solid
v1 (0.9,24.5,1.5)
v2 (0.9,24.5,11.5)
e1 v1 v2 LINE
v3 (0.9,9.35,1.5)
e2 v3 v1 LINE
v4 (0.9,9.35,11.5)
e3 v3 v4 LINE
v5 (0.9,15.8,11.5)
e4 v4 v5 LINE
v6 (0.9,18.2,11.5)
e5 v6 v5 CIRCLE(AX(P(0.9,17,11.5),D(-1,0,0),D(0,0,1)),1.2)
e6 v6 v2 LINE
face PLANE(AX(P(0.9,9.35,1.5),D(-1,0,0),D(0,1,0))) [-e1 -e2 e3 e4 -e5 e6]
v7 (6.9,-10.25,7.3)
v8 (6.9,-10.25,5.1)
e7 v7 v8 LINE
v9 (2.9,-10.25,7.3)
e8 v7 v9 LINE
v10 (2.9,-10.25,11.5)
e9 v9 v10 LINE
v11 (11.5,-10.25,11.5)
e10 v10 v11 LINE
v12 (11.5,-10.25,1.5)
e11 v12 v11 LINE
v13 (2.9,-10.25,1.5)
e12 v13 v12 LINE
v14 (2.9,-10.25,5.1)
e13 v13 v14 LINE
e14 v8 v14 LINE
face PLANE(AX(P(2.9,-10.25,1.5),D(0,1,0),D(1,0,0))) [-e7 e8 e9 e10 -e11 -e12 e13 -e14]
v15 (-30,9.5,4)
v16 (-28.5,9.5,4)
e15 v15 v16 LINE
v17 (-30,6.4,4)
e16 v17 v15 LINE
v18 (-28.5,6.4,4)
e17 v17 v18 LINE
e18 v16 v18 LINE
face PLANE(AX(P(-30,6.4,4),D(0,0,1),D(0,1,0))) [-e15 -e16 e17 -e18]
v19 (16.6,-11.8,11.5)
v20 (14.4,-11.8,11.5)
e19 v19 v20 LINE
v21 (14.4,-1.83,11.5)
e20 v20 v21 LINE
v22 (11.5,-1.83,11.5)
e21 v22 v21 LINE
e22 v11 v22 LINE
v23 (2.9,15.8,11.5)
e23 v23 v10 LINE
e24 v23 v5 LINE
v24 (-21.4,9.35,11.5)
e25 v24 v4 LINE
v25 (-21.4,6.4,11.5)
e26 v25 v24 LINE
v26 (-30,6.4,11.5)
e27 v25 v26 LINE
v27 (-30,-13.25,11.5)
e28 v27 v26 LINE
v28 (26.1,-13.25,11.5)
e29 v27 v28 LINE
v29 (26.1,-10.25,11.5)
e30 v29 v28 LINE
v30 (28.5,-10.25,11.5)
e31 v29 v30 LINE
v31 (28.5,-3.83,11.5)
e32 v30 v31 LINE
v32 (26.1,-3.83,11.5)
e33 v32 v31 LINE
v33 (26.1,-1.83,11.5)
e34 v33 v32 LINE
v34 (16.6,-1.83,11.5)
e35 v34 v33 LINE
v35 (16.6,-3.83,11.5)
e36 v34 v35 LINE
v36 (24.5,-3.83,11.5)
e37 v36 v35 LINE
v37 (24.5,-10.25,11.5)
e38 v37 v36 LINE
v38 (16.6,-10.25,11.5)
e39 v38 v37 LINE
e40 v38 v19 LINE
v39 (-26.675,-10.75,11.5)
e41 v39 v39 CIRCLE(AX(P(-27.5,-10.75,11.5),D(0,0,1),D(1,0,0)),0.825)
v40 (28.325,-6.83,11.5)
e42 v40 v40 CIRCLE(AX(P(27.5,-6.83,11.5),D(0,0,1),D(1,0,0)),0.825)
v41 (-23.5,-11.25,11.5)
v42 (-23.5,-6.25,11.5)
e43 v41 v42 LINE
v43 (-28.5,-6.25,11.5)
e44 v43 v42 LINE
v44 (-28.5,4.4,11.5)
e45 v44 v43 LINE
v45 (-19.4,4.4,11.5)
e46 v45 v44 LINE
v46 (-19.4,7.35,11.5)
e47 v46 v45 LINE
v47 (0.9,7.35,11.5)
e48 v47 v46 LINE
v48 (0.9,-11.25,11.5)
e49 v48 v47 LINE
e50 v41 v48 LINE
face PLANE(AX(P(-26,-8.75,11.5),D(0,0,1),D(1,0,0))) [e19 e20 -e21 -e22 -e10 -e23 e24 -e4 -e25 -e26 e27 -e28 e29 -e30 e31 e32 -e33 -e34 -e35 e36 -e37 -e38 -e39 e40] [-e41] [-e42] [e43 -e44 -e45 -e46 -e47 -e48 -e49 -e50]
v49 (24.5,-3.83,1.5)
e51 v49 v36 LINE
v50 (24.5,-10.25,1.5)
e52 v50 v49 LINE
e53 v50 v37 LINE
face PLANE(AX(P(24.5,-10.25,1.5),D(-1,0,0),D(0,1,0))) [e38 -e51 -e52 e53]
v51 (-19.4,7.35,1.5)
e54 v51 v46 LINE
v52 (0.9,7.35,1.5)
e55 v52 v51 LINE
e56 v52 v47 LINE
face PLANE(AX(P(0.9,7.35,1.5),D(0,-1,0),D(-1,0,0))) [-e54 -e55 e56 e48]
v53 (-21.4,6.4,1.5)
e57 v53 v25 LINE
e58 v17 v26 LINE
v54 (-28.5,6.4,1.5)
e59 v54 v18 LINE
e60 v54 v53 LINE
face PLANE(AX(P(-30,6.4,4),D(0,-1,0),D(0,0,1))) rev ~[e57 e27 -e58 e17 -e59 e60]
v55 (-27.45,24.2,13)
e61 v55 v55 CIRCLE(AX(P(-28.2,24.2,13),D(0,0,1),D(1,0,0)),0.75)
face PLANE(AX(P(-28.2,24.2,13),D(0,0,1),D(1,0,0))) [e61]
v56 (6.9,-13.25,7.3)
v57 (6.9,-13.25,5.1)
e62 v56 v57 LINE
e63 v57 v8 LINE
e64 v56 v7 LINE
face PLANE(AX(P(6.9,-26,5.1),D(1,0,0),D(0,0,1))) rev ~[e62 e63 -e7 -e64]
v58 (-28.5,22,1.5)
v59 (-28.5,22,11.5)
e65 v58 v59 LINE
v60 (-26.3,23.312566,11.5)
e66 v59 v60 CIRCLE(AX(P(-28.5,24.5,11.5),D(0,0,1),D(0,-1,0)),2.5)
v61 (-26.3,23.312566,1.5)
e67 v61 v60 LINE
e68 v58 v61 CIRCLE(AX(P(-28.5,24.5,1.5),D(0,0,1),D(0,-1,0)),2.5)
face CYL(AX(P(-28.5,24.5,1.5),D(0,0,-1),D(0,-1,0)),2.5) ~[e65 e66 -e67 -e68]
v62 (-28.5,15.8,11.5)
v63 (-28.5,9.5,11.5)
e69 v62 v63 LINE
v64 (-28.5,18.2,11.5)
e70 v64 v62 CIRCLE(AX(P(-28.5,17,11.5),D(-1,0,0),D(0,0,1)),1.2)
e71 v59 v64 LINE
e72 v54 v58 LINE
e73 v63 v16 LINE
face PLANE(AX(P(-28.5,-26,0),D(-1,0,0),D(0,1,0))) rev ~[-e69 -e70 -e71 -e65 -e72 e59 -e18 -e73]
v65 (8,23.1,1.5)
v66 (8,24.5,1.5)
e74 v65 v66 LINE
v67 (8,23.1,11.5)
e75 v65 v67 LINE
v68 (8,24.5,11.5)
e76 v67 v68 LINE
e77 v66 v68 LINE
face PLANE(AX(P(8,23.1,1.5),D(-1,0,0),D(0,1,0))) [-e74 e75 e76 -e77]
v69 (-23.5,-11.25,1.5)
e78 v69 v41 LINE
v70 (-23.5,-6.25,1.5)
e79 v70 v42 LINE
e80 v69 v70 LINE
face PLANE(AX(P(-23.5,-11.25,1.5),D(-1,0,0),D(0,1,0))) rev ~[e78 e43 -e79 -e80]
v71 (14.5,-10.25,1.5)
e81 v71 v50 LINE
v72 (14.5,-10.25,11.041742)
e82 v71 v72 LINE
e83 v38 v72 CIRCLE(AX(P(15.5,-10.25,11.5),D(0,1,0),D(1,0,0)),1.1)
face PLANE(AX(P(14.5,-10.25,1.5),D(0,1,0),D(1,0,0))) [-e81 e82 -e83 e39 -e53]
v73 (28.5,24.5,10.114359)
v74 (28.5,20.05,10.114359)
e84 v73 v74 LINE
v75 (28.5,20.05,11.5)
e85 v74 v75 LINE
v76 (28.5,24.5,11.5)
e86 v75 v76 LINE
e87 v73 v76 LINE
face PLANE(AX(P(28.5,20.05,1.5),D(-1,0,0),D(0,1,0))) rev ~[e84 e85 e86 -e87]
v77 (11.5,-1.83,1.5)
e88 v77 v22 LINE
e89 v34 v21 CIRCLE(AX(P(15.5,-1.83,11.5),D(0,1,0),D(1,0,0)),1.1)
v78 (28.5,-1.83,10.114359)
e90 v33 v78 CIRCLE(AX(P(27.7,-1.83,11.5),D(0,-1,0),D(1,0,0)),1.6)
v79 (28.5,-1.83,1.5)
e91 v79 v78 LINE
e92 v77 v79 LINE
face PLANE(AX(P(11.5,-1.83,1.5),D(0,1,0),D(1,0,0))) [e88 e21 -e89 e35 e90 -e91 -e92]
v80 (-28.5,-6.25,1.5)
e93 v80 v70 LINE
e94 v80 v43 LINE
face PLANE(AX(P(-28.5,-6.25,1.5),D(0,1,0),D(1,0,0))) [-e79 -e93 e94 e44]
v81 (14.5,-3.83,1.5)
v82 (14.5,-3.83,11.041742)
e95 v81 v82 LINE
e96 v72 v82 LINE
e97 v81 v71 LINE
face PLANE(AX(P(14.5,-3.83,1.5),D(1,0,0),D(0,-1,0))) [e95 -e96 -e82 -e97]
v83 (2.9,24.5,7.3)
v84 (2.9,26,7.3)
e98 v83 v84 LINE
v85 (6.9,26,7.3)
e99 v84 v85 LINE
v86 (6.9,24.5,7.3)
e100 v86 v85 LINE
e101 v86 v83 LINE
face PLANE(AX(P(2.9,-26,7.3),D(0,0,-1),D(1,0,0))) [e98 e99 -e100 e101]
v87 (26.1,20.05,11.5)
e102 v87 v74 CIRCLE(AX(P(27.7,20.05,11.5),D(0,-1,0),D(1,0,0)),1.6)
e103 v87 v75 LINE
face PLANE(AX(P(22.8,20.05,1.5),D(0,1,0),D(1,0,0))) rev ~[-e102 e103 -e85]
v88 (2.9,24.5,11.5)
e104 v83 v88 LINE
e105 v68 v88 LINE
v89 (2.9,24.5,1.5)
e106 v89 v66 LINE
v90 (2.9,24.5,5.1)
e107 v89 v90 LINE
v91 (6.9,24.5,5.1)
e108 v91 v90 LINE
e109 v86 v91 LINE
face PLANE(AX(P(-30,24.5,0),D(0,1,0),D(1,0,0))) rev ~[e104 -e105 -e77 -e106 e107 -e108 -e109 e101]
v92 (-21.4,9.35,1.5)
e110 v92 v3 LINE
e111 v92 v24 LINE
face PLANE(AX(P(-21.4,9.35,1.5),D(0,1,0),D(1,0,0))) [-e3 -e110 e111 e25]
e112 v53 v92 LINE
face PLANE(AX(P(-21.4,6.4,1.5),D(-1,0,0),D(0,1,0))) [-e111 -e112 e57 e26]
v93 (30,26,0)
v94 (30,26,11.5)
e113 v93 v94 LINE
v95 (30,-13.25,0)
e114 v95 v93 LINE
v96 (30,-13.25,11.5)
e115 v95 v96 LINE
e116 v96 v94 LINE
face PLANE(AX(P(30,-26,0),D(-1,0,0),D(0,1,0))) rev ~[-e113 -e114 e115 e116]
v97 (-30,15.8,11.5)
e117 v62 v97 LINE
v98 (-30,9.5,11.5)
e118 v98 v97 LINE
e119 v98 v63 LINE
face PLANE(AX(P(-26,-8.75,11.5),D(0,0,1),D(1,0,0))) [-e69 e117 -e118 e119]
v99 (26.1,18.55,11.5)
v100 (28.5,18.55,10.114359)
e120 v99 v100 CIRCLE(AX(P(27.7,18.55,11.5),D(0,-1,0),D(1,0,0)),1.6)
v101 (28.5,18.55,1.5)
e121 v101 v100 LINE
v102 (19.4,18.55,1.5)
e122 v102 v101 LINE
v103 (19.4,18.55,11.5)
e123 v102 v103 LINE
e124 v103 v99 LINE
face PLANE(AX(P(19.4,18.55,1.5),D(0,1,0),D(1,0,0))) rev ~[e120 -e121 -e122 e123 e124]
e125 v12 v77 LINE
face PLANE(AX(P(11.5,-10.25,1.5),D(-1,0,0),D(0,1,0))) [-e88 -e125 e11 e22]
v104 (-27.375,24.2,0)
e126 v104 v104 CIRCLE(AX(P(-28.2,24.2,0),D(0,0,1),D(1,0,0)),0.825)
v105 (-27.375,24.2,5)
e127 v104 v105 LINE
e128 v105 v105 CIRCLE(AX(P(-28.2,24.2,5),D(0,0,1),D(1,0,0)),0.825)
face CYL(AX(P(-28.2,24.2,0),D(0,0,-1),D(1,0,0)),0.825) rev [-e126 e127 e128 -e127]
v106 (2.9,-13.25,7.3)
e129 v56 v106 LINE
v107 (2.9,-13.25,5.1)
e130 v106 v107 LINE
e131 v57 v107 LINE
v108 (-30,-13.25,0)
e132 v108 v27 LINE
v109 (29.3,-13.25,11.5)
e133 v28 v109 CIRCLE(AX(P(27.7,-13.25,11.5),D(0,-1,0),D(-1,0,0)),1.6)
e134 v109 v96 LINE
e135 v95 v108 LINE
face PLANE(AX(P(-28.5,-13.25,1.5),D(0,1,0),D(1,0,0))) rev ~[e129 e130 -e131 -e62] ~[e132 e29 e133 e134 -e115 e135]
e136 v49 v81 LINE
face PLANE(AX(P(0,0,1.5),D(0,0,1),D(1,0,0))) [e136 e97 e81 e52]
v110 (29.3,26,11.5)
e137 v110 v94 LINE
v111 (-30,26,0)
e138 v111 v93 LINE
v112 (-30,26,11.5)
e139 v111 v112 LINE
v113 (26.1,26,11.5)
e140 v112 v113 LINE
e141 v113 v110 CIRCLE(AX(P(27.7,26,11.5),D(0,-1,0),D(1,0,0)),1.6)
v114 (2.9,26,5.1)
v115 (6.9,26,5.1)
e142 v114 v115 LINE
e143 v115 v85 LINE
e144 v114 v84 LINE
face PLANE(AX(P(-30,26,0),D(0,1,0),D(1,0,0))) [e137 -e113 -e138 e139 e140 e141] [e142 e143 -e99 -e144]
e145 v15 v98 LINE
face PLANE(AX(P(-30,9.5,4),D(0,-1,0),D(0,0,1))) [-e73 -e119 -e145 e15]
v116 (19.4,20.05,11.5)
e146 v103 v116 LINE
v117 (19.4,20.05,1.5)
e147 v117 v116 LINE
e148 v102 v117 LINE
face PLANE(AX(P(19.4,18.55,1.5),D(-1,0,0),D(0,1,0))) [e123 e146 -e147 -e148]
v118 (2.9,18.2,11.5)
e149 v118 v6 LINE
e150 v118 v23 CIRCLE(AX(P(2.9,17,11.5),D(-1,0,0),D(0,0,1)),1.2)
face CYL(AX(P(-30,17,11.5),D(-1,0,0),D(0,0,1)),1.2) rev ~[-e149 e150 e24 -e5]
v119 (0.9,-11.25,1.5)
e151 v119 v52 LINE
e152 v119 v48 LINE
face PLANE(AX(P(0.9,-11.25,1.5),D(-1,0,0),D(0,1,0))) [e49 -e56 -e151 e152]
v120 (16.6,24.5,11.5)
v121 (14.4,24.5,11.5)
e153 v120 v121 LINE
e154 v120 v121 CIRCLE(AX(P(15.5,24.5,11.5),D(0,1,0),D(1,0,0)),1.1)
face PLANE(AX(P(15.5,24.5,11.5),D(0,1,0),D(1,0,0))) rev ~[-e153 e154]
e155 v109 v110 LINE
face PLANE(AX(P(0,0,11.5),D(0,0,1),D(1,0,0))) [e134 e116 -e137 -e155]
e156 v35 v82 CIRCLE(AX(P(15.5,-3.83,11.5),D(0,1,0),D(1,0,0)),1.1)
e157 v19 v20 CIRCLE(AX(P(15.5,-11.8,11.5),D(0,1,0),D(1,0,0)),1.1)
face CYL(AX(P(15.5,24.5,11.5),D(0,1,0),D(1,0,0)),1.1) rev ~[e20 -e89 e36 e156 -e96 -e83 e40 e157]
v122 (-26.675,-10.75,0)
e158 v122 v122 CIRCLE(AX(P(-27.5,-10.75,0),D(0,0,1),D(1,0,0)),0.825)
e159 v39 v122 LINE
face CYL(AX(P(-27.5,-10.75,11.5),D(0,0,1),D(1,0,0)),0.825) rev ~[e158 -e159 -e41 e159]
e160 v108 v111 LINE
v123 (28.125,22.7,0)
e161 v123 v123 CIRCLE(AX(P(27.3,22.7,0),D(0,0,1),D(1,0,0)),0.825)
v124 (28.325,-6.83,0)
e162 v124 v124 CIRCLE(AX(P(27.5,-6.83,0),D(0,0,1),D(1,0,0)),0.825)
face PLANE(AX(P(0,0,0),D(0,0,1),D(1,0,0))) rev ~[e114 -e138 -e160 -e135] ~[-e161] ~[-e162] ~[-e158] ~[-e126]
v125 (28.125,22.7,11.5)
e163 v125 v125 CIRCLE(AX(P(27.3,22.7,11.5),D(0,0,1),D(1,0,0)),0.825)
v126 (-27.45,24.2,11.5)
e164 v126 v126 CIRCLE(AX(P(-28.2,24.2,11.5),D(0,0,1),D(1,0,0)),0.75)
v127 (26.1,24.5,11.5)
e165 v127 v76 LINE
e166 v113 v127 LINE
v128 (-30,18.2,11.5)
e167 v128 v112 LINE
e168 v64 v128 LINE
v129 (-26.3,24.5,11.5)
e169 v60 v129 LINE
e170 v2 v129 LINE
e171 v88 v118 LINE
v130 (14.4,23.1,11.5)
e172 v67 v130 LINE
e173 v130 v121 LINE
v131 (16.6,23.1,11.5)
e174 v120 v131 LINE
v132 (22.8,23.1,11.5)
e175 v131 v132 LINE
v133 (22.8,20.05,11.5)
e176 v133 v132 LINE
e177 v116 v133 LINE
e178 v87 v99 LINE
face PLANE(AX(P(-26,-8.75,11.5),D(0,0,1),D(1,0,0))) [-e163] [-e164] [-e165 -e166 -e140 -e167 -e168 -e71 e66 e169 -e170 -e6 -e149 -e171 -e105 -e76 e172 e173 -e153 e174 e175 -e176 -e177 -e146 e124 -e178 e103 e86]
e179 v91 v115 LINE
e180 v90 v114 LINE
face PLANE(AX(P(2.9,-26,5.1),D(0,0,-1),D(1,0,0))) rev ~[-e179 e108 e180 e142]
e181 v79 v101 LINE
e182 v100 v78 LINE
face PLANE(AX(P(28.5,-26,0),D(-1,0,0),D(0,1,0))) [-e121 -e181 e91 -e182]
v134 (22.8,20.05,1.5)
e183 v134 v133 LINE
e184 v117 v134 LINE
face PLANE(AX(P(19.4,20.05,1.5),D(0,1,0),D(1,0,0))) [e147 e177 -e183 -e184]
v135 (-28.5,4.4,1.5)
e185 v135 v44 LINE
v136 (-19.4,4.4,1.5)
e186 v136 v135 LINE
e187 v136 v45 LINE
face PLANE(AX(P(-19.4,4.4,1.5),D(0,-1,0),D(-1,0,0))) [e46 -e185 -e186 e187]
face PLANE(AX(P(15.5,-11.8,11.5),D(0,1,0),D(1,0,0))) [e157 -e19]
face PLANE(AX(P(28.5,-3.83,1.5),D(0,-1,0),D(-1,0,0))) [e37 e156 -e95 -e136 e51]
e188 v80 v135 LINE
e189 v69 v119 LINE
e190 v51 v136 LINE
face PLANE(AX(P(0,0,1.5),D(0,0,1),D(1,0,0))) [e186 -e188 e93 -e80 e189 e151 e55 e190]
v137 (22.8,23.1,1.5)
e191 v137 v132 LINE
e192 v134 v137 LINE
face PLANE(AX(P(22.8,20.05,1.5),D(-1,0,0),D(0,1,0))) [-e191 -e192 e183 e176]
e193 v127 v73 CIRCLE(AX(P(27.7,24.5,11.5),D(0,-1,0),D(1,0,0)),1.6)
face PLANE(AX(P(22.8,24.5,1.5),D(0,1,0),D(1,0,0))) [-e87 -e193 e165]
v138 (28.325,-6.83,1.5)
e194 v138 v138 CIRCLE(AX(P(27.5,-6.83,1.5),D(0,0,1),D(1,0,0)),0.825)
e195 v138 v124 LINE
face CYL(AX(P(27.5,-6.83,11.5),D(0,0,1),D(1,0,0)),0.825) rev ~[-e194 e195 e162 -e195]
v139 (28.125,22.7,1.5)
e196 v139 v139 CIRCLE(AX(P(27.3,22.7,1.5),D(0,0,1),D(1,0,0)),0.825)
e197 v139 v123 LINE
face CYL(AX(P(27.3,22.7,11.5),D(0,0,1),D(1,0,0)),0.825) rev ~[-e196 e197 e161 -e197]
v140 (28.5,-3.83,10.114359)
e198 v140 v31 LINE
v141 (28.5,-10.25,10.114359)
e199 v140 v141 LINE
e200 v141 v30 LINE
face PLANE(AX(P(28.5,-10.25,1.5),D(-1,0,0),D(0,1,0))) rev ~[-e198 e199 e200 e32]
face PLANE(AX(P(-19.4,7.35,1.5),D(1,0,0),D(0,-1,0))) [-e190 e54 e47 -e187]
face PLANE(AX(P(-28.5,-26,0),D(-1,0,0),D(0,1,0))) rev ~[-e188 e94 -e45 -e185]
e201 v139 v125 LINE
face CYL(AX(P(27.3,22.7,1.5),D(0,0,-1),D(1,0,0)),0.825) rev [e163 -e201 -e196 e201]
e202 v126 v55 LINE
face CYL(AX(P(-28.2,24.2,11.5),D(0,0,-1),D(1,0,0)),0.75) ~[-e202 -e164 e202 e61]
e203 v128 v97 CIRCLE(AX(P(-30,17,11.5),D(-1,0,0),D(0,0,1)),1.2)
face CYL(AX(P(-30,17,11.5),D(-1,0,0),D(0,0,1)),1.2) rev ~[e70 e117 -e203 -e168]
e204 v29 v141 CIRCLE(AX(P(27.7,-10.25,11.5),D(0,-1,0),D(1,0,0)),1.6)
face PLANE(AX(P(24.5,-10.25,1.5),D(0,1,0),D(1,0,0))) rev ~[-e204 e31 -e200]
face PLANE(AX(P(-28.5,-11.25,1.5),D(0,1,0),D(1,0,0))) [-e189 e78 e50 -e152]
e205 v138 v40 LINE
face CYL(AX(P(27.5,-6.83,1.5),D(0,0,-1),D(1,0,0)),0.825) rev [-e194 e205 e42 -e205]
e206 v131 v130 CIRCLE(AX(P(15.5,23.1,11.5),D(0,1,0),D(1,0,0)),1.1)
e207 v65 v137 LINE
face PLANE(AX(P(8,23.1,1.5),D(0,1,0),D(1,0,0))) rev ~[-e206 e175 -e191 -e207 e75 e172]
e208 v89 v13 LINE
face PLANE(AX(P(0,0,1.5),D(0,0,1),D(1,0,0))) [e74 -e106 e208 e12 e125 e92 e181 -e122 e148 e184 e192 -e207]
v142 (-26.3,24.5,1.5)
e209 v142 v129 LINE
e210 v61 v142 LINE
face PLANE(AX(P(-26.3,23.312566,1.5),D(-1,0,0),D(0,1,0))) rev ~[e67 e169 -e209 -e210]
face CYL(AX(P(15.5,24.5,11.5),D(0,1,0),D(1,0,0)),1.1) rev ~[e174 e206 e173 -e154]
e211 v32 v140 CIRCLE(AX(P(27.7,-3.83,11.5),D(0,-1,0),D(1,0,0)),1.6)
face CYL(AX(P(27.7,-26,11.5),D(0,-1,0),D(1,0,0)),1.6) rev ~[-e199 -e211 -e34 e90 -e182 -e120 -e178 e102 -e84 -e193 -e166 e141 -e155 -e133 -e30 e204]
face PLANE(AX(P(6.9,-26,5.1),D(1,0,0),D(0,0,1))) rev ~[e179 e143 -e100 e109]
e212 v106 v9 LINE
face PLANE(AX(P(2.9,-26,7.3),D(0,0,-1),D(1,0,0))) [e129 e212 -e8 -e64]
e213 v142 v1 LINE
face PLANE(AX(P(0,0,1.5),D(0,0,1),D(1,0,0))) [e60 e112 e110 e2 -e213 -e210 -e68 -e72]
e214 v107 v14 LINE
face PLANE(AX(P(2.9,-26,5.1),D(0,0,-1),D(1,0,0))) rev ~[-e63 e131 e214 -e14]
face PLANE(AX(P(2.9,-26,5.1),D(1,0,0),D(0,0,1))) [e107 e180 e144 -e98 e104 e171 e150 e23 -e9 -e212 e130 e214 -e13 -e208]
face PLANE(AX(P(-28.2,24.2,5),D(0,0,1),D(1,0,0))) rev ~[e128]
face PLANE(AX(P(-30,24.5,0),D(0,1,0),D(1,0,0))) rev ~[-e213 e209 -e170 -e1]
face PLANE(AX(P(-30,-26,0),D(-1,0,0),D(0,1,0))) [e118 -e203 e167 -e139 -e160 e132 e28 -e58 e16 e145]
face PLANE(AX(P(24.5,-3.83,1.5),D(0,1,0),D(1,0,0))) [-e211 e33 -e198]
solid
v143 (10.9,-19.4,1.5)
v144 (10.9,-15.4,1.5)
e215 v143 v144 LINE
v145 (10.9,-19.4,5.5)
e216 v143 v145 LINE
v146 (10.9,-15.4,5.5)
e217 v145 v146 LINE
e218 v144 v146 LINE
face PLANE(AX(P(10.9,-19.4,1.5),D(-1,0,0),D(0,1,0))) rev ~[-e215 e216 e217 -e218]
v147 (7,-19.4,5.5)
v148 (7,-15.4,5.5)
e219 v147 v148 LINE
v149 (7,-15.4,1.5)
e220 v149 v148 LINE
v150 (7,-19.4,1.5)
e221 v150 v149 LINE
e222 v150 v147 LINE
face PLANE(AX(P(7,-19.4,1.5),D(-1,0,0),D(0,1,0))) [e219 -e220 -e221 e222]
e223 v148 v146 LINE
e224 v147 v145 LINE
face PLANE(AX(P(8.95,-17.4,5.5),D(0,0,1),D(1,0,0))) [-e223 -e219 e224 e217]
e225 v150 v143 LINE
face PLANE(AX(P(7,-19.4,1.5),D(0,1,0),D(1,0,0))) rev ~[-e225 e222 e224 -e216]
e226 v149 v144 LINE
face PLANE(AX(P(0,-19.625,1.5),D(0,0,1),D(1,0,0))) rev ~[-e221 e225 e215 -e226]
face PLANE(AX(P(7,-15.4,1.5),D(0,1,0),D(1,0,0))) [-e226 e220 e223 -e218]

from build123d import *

# Parameters (mm, degrees)
SKETCH_1_W                      = 60
SKETCH_1_H                      = 52
EXTRUDE_1_DEPTH                 = 11.5
SHELL_1_T                       = -1.5
SKETCH_2_W                      = 15
SKETCH_2_H                      = 1.4
SKETCH_2_W_2                    = 9.1
SKETCH_2_H_2                    = 1.5
EXTRUDE_2_DEPTH                 = 10
CUT_EXTRUDE_1_REACH             = 63.125
SKETCH_3_W                      = 4
SKETCH_3_H                      = 2.2
SKETCH_4_R                      = 1.6
F_3MM_2_DEPTH                   = 62.124872188
F_2MM_4_START                   = -1.5
SKETCH_6_R                      = 1.1
F_2MM_4_DEPTH                   = 36.3
CUT_EXTRUDE_5_REACH             = 68.395
SKETCH_8_W                      = 7.5
SKETCH_8_H                      = 3.1
SKETCH_9_W                      = 5
SKETCH_9_H                      = 5
SKETCH_9_W_2                    = 5.7
SKETCH_9_H_2                    = 4.45
SKETCH_9_R                      = 0.825
SKETCH_9_W_3                    = 4
SKETCH_9_H_3                    = 6.42
EXTRUDE_4_DEPTH                 = 10
SKETCH_10_R                     = 0.75
EXTRUDE_5_DEPTH                 = 1.5
SKETCH_11_W                     = 3.9
SKETCH_11_H                     = 4
EXTRUDE_6_DEPTH                 = 4
CUT_EXTRUDE_1_2_REACH           = 43.331
SKETCH_13_R                     = 0.825
CUT_EXTRUDE_2_REACH             = 43.331
SKETCH_14_W                     = 60
SKETCH_14_H                     = 12.75
CUT_EXTRUDE_2_DIRECTION_2_REACH = 43.331
CUT_EXTRUDE_START               = -11.5
SKETCH_15_R                     = 0.825
CUT_EXTRUDE_3_DEPTH             = 5
SKETCH_16_R                     = 1.2
CUT_EXTRUDE_4_DEPTH             = 40


with BuildPart() as part:
    # 草图1 → 凸台-拉伸1 (new body)
    with BuildSketch(Plane.XY):
        Rectangle(SKETCH_1_W, SKETCH_1_H)
    extrude(amount=EXTRUDE_1_DEPTH)

    # 抽壳1
    shell_1_openings = [part.faces().sort_by_distance(p)[0] for p in [
        (0, 0, 11.5),
    ]]
    offset(amount=SHELL_1_T, openings=shell_1_openings, kind=Kind.INTERSECTION)

    # 草图2 → 凸台-拉伸2 (add)
    with BuildSketch(Plane.XY.offset(1.5)):
        Polygon((-21.4, 9.35), (0.9, 9.35), (0.9, 24.5), (2.9, 24.5), (2.9, -10.25), (11.5, -10.25), (11.5, -1.83), (28.5, -1.83), (28.5, -3.83), (14.5, -3.83), (14.5, -10.25), (28.5, -10.25), (28.5, -13.25), (-4.1, -13.25), (-28.5, -13.25), (-28.5, -11.25), (0.9, -11.25), (0.9, 7.35), (-19.4, 7.35), (-19.4, 4.4), (-28.5, 4.4), (-28.5, 6.4), (-21.4, 6.4), align=None)
        with Locations((15.5, 23.8)):
            Rectangle(SKETCH_2_W, SKETCH_2_H)
        with Locations((23.95, 19.3)):
            Rectangle(SKETCH_2_W_2, SKETCH_2_H_2)
    extrude(amount=EXTRUDE_2_DEPTH)

    # Cut-Extrude 1: up to this face of the body (flat: up to its plane)
    cut_extrude_1_end = Plane(part.part.faces().sort_by_distance((0, 26, 5.75))[0])
    # 草图3 → Cut-Extrude 1 (cut, up to the picked face)
    with BuildSketch(Plane.XZ.offset(26), mode=Mode.PRIVATE) as cut_extrude_1_sk1:
        with Locations((4.9, 6.2)):
            Rectangle(SKETCH_3_W, SKETCH_3_H)
    cut_extrude_1_tool1 = split(extrude(cut_extrude_1_sk1.sketch, amount=-CUT_EXTRUDE_1_REACH, mode=Mode.PRIVATE), bisect_by=cut_extrude_1_end, keep=Keep.BOTH, mode=Mode.PRIVATE)
    add(cut_extrude_1_tool1.solids().sort_by(Axis((4.9, -26, 6.2), (0, 1, 0)))[0], mode=Mode.SUBTRACT)

    # 草图4 → 3MM孔切除-拉伸2 (cut, through all)
    with BuildSketch(Plane.XZ.offset(26)):
        with Locations((27.7, 11.5)):
            Circle(SKETCH_4_R)
    extrude(amount=-F_3MM_2_DEPTH, mode=Mode.SUBTRACT)

    # 草图6 → 2mm孔切除-拉伸4 (cut)
    with BuildSketch(Plane(origin=(0, 26, 0), x_dir=(1, 0, 0), z_dir=(0, 1, 0)).offset(F_2MM_4_START)):
        with Locations((15.5, -11.5)):
            Circle(SKETCH_6_R)
    extrude(amount=-F_2MM_4_DEPTH, mode=Mode.SUBTRACT)

    # 草图8 → 电机线切除-拉伸5 (cut, up to next)
    with BuildSketch(Plane.ZY.offset(30), mode=Mode.PRIVATE) as cut_extrude_5_sk1:
        with Locations((7.75, 7.95)):
            Rectangle(SKETCH_8_W, SKETCH_8_H)
    cut_extrude_5_tool1 = extrude(cut_extrude_5_sk1.sketch, amount=-CUT_EXTRUDE_5_REACH, mode=Mode.PRIVATE) & part.part
    add(cut_extrude_5_tool1.solids().sort_by_distance((-30, 7.95, 7.75))[0], mode=Mode.SUBTRACT)

    # 草图9 → 螺柱支撑凸台-拉伸4 (add)
    # profile 1 of 4: a face of its own
    with BuildSketch(Plane.XY.offset(1.5)):
        with Locations((-26, -8.75)):
            Rectangle(SKETCH_9_W, SKETCH_9_H)
    # profile 2 of 4: a face of its own
    with BuildSketch(Plane.XY.offset(1.5)):
        with Locations((25.65, 22.275)):
            Rectangle(SKETCH_9_W_2, SKETCH_9_H_2)
        with Locations((27.3, 22.7)):
            Circle(SKETCH_9_R, mode=Mode.SUBTRACT)
    # profile 3 of 4: a face of its own
    with BuildSketch(Plane.XY.offset(1.5)):
        with BuildLine():
            Line((-28.5, 24.5), (-28.5, 22))
            ThreePointArc((-28.5, 22), (-27.219099052, 22.353073648), (-26.3, 23.312565791))
            Line((-26.3, 23.312565791), (-26.3, 24.5))
            Line((-26.3, 24.5), (-28.5, 24.5))
        make_face()
    # profile 4 of 4: a face of its own
    with BuildSketch(Plane.XY.offset(1.5)):
        with Locations((26.5, -7.04)):
            Rectangle(SKETCH_9_W_3, SKETCH_9_H_3)
        with Locations((27.5, -6.83)):
            Circle(SKETCH_9_R, mode=Mode.SUBTRACT)
    extrude(amount=EXTRUDE_4_DEPTH)

    # 草图10 → 上下楔凸台-拉伸5 (add)
    with BuildSketch(Plane.XY.offset(11.5)):
        with Locations((-28.2, 24.2)):
            Circle(SKETCH_10_R)
    extrude(amount=EXTRUDE_5_DEPTH)

    # 草图11 → 变速卡位凸台-拉伸6 (add)
    with BuildSketch(Plane.XY.offset(1.5)):
        with Locations((8.95, -17.4)):
            Rectangle(SKETCH_11_W, SKETCH_11_H)
    extrude(amount=EXTRUDE_6_DEPTH)

    # 草图13 → Cut-Extrude 1 2 (cut, up to next)
    with BuildSketch(Plane.XY.offset(11.5), mode=Mode.PRIVATE) as cut_extrude_1_2_sk1:
        with Locations((-27.5, -10.75)):
            Circle(SKETCH_13_R)
    cut_extrude_1_2_tool1 = extrude(cut_extrude_1_2_sk1.sketch, amount=-CUT_EXTRUDE_1_2_REACH, mode=Mode.PRIVATE) & part.part
    # 草图13 → Cut-Extrude 1 2 (cut, up to next)
    with BuildSketch(Plane.XY.offset(11.5), mode=Mode.PRIVATE) as cut_extrude_1_2_sk2:
        with Locations((27.3, 22.7)):
            Circle(SKETCH_13_R)
    cut_extrude_1_2_tool2 = extrude(cut_extrude_1_2_sk2.sketch, amount=-CUT_EXTRUDE_1_2_REACH, mode=Mode.PRIVATE) & part.part
    # 草图13 → Cut-Extrude 1 2 (cut, up to next)
    with BuildSketch(Plane.XY.offset(11.5), mode=Mode.PRIVATE) as cut_extrude_1_2_sk3:
        with Locations((27.5, -6.83)):
            Circle(SKETCH_13_R)
    cut_extrude_1_2_tool3 = extrude(cut_extrude_1_2_sk3.sketch, amount=-CUT_EXTRUDE_1_2_REACH, mode=Mode.PRIVATE) & part.part
    add(cut_extrude_1_2_tool1.solids().sort_by_distance((-27.5, -10.75, 11.5))[0], mode=Mode.SUBTRACT)
    add(cut_extrude_1_2_tool2.solids().sort_by_distance((27.3, 22.7, 11.5))[0], mode=Mode.SUBTRACT)
    add(cut_extrude_1_2_tool3.solids().sort_by_distance((27.5, -6.83, 11.5))[0], mode=Mode.SUBTRACT)

    # 草图14 → 切除-拉伸2 (cut, up to next)
    with BuildSketch(Plane.XY.offset(1.5), mode=Mode.PRIVATE) as cut_extrude_2_sk1:
        with Locations((0, -19.625)):
            Rectangle(SKETCH_14_W, SKETCH_14_H)
    cut_extrude_2_tool1 = extrude(cut_extrude_2_sk1.sketch, amount=CUT_EXTRUDE_2_REACH, mode=Mode.PRIVATE) & part.part
    add(cut_extrude_2_tool1.solids().sort_by_distance((0, -19.625, 1.5))[0], mode=Mode.SUBTRACT)

    # 草图14 → 切除-拉伸2 direction 2 (cut, up to next)
    with BuildSketch(Plane.XY.offset(1.5), mode=Mode.PRIVATE) as cut_extrude_2_direction_2_sk1:
        with Locations((0, -19.625)):
            Rectangle(SKETCH_14_W, SKETCH_14_H)
    cut_extrude_2_direction_2_tool1 = extrude(cut_extrude_2_direction_2_sk1.sketch, amount=-CUT_EXTRUDE_2_DIRECTION_2_REACH, mode=Mode.PRIVATE) & part.part
    add(cut_extrude_2_direction_2_tool1.solids().sort_by_distance((0, -19.625, 1.5))[0], mode=Mode.SUBTRACT)


with BuildPart() as cut_extrude_2_piece_1:
    # of the separate pieces the step leaves, piece 1, a body of its own (cut_extrude_2_pieces)
    add(part.part.solids().sort_by_distance((-30, 26, 0))[0])

    # 草图15 → 切除-拉伸3 (cut)
    with BuildSketch(Plane.XY.offset(11.5).offset(CUT_EXTRUDE_START)):
        with Locations((-28.2, 24.2)):
            Circle(SKETCH_15_R)
    extrude(amount=CUT_EXTRUDE_3_DEPTH, mode=Mode.SUBTRACT)

    # 草图16 → 切除-拉伸4 (cut)
    with BuildSketch(Plane.ZY.offset(30)):
        with Locations((11.5, 17)):
            Circle(SKETCH_16_R)
    extrude(amount=-CUT_EXTRUDE_4_DEPTH, mode=Mode.SUBTRACT)


with BuildPart() as cut_extrude_2_piece_2:
    # of the separate pieces the step leaves, piece 2, a body of its own (cut_extrude_2_pieces)
    add(part.part.solids().sort_by_distance((7, -15.4, 1.5))[0])


solid = Compound([cut_extrude_2_piece_1.part, cut_extrude_2_piece_2.part])
